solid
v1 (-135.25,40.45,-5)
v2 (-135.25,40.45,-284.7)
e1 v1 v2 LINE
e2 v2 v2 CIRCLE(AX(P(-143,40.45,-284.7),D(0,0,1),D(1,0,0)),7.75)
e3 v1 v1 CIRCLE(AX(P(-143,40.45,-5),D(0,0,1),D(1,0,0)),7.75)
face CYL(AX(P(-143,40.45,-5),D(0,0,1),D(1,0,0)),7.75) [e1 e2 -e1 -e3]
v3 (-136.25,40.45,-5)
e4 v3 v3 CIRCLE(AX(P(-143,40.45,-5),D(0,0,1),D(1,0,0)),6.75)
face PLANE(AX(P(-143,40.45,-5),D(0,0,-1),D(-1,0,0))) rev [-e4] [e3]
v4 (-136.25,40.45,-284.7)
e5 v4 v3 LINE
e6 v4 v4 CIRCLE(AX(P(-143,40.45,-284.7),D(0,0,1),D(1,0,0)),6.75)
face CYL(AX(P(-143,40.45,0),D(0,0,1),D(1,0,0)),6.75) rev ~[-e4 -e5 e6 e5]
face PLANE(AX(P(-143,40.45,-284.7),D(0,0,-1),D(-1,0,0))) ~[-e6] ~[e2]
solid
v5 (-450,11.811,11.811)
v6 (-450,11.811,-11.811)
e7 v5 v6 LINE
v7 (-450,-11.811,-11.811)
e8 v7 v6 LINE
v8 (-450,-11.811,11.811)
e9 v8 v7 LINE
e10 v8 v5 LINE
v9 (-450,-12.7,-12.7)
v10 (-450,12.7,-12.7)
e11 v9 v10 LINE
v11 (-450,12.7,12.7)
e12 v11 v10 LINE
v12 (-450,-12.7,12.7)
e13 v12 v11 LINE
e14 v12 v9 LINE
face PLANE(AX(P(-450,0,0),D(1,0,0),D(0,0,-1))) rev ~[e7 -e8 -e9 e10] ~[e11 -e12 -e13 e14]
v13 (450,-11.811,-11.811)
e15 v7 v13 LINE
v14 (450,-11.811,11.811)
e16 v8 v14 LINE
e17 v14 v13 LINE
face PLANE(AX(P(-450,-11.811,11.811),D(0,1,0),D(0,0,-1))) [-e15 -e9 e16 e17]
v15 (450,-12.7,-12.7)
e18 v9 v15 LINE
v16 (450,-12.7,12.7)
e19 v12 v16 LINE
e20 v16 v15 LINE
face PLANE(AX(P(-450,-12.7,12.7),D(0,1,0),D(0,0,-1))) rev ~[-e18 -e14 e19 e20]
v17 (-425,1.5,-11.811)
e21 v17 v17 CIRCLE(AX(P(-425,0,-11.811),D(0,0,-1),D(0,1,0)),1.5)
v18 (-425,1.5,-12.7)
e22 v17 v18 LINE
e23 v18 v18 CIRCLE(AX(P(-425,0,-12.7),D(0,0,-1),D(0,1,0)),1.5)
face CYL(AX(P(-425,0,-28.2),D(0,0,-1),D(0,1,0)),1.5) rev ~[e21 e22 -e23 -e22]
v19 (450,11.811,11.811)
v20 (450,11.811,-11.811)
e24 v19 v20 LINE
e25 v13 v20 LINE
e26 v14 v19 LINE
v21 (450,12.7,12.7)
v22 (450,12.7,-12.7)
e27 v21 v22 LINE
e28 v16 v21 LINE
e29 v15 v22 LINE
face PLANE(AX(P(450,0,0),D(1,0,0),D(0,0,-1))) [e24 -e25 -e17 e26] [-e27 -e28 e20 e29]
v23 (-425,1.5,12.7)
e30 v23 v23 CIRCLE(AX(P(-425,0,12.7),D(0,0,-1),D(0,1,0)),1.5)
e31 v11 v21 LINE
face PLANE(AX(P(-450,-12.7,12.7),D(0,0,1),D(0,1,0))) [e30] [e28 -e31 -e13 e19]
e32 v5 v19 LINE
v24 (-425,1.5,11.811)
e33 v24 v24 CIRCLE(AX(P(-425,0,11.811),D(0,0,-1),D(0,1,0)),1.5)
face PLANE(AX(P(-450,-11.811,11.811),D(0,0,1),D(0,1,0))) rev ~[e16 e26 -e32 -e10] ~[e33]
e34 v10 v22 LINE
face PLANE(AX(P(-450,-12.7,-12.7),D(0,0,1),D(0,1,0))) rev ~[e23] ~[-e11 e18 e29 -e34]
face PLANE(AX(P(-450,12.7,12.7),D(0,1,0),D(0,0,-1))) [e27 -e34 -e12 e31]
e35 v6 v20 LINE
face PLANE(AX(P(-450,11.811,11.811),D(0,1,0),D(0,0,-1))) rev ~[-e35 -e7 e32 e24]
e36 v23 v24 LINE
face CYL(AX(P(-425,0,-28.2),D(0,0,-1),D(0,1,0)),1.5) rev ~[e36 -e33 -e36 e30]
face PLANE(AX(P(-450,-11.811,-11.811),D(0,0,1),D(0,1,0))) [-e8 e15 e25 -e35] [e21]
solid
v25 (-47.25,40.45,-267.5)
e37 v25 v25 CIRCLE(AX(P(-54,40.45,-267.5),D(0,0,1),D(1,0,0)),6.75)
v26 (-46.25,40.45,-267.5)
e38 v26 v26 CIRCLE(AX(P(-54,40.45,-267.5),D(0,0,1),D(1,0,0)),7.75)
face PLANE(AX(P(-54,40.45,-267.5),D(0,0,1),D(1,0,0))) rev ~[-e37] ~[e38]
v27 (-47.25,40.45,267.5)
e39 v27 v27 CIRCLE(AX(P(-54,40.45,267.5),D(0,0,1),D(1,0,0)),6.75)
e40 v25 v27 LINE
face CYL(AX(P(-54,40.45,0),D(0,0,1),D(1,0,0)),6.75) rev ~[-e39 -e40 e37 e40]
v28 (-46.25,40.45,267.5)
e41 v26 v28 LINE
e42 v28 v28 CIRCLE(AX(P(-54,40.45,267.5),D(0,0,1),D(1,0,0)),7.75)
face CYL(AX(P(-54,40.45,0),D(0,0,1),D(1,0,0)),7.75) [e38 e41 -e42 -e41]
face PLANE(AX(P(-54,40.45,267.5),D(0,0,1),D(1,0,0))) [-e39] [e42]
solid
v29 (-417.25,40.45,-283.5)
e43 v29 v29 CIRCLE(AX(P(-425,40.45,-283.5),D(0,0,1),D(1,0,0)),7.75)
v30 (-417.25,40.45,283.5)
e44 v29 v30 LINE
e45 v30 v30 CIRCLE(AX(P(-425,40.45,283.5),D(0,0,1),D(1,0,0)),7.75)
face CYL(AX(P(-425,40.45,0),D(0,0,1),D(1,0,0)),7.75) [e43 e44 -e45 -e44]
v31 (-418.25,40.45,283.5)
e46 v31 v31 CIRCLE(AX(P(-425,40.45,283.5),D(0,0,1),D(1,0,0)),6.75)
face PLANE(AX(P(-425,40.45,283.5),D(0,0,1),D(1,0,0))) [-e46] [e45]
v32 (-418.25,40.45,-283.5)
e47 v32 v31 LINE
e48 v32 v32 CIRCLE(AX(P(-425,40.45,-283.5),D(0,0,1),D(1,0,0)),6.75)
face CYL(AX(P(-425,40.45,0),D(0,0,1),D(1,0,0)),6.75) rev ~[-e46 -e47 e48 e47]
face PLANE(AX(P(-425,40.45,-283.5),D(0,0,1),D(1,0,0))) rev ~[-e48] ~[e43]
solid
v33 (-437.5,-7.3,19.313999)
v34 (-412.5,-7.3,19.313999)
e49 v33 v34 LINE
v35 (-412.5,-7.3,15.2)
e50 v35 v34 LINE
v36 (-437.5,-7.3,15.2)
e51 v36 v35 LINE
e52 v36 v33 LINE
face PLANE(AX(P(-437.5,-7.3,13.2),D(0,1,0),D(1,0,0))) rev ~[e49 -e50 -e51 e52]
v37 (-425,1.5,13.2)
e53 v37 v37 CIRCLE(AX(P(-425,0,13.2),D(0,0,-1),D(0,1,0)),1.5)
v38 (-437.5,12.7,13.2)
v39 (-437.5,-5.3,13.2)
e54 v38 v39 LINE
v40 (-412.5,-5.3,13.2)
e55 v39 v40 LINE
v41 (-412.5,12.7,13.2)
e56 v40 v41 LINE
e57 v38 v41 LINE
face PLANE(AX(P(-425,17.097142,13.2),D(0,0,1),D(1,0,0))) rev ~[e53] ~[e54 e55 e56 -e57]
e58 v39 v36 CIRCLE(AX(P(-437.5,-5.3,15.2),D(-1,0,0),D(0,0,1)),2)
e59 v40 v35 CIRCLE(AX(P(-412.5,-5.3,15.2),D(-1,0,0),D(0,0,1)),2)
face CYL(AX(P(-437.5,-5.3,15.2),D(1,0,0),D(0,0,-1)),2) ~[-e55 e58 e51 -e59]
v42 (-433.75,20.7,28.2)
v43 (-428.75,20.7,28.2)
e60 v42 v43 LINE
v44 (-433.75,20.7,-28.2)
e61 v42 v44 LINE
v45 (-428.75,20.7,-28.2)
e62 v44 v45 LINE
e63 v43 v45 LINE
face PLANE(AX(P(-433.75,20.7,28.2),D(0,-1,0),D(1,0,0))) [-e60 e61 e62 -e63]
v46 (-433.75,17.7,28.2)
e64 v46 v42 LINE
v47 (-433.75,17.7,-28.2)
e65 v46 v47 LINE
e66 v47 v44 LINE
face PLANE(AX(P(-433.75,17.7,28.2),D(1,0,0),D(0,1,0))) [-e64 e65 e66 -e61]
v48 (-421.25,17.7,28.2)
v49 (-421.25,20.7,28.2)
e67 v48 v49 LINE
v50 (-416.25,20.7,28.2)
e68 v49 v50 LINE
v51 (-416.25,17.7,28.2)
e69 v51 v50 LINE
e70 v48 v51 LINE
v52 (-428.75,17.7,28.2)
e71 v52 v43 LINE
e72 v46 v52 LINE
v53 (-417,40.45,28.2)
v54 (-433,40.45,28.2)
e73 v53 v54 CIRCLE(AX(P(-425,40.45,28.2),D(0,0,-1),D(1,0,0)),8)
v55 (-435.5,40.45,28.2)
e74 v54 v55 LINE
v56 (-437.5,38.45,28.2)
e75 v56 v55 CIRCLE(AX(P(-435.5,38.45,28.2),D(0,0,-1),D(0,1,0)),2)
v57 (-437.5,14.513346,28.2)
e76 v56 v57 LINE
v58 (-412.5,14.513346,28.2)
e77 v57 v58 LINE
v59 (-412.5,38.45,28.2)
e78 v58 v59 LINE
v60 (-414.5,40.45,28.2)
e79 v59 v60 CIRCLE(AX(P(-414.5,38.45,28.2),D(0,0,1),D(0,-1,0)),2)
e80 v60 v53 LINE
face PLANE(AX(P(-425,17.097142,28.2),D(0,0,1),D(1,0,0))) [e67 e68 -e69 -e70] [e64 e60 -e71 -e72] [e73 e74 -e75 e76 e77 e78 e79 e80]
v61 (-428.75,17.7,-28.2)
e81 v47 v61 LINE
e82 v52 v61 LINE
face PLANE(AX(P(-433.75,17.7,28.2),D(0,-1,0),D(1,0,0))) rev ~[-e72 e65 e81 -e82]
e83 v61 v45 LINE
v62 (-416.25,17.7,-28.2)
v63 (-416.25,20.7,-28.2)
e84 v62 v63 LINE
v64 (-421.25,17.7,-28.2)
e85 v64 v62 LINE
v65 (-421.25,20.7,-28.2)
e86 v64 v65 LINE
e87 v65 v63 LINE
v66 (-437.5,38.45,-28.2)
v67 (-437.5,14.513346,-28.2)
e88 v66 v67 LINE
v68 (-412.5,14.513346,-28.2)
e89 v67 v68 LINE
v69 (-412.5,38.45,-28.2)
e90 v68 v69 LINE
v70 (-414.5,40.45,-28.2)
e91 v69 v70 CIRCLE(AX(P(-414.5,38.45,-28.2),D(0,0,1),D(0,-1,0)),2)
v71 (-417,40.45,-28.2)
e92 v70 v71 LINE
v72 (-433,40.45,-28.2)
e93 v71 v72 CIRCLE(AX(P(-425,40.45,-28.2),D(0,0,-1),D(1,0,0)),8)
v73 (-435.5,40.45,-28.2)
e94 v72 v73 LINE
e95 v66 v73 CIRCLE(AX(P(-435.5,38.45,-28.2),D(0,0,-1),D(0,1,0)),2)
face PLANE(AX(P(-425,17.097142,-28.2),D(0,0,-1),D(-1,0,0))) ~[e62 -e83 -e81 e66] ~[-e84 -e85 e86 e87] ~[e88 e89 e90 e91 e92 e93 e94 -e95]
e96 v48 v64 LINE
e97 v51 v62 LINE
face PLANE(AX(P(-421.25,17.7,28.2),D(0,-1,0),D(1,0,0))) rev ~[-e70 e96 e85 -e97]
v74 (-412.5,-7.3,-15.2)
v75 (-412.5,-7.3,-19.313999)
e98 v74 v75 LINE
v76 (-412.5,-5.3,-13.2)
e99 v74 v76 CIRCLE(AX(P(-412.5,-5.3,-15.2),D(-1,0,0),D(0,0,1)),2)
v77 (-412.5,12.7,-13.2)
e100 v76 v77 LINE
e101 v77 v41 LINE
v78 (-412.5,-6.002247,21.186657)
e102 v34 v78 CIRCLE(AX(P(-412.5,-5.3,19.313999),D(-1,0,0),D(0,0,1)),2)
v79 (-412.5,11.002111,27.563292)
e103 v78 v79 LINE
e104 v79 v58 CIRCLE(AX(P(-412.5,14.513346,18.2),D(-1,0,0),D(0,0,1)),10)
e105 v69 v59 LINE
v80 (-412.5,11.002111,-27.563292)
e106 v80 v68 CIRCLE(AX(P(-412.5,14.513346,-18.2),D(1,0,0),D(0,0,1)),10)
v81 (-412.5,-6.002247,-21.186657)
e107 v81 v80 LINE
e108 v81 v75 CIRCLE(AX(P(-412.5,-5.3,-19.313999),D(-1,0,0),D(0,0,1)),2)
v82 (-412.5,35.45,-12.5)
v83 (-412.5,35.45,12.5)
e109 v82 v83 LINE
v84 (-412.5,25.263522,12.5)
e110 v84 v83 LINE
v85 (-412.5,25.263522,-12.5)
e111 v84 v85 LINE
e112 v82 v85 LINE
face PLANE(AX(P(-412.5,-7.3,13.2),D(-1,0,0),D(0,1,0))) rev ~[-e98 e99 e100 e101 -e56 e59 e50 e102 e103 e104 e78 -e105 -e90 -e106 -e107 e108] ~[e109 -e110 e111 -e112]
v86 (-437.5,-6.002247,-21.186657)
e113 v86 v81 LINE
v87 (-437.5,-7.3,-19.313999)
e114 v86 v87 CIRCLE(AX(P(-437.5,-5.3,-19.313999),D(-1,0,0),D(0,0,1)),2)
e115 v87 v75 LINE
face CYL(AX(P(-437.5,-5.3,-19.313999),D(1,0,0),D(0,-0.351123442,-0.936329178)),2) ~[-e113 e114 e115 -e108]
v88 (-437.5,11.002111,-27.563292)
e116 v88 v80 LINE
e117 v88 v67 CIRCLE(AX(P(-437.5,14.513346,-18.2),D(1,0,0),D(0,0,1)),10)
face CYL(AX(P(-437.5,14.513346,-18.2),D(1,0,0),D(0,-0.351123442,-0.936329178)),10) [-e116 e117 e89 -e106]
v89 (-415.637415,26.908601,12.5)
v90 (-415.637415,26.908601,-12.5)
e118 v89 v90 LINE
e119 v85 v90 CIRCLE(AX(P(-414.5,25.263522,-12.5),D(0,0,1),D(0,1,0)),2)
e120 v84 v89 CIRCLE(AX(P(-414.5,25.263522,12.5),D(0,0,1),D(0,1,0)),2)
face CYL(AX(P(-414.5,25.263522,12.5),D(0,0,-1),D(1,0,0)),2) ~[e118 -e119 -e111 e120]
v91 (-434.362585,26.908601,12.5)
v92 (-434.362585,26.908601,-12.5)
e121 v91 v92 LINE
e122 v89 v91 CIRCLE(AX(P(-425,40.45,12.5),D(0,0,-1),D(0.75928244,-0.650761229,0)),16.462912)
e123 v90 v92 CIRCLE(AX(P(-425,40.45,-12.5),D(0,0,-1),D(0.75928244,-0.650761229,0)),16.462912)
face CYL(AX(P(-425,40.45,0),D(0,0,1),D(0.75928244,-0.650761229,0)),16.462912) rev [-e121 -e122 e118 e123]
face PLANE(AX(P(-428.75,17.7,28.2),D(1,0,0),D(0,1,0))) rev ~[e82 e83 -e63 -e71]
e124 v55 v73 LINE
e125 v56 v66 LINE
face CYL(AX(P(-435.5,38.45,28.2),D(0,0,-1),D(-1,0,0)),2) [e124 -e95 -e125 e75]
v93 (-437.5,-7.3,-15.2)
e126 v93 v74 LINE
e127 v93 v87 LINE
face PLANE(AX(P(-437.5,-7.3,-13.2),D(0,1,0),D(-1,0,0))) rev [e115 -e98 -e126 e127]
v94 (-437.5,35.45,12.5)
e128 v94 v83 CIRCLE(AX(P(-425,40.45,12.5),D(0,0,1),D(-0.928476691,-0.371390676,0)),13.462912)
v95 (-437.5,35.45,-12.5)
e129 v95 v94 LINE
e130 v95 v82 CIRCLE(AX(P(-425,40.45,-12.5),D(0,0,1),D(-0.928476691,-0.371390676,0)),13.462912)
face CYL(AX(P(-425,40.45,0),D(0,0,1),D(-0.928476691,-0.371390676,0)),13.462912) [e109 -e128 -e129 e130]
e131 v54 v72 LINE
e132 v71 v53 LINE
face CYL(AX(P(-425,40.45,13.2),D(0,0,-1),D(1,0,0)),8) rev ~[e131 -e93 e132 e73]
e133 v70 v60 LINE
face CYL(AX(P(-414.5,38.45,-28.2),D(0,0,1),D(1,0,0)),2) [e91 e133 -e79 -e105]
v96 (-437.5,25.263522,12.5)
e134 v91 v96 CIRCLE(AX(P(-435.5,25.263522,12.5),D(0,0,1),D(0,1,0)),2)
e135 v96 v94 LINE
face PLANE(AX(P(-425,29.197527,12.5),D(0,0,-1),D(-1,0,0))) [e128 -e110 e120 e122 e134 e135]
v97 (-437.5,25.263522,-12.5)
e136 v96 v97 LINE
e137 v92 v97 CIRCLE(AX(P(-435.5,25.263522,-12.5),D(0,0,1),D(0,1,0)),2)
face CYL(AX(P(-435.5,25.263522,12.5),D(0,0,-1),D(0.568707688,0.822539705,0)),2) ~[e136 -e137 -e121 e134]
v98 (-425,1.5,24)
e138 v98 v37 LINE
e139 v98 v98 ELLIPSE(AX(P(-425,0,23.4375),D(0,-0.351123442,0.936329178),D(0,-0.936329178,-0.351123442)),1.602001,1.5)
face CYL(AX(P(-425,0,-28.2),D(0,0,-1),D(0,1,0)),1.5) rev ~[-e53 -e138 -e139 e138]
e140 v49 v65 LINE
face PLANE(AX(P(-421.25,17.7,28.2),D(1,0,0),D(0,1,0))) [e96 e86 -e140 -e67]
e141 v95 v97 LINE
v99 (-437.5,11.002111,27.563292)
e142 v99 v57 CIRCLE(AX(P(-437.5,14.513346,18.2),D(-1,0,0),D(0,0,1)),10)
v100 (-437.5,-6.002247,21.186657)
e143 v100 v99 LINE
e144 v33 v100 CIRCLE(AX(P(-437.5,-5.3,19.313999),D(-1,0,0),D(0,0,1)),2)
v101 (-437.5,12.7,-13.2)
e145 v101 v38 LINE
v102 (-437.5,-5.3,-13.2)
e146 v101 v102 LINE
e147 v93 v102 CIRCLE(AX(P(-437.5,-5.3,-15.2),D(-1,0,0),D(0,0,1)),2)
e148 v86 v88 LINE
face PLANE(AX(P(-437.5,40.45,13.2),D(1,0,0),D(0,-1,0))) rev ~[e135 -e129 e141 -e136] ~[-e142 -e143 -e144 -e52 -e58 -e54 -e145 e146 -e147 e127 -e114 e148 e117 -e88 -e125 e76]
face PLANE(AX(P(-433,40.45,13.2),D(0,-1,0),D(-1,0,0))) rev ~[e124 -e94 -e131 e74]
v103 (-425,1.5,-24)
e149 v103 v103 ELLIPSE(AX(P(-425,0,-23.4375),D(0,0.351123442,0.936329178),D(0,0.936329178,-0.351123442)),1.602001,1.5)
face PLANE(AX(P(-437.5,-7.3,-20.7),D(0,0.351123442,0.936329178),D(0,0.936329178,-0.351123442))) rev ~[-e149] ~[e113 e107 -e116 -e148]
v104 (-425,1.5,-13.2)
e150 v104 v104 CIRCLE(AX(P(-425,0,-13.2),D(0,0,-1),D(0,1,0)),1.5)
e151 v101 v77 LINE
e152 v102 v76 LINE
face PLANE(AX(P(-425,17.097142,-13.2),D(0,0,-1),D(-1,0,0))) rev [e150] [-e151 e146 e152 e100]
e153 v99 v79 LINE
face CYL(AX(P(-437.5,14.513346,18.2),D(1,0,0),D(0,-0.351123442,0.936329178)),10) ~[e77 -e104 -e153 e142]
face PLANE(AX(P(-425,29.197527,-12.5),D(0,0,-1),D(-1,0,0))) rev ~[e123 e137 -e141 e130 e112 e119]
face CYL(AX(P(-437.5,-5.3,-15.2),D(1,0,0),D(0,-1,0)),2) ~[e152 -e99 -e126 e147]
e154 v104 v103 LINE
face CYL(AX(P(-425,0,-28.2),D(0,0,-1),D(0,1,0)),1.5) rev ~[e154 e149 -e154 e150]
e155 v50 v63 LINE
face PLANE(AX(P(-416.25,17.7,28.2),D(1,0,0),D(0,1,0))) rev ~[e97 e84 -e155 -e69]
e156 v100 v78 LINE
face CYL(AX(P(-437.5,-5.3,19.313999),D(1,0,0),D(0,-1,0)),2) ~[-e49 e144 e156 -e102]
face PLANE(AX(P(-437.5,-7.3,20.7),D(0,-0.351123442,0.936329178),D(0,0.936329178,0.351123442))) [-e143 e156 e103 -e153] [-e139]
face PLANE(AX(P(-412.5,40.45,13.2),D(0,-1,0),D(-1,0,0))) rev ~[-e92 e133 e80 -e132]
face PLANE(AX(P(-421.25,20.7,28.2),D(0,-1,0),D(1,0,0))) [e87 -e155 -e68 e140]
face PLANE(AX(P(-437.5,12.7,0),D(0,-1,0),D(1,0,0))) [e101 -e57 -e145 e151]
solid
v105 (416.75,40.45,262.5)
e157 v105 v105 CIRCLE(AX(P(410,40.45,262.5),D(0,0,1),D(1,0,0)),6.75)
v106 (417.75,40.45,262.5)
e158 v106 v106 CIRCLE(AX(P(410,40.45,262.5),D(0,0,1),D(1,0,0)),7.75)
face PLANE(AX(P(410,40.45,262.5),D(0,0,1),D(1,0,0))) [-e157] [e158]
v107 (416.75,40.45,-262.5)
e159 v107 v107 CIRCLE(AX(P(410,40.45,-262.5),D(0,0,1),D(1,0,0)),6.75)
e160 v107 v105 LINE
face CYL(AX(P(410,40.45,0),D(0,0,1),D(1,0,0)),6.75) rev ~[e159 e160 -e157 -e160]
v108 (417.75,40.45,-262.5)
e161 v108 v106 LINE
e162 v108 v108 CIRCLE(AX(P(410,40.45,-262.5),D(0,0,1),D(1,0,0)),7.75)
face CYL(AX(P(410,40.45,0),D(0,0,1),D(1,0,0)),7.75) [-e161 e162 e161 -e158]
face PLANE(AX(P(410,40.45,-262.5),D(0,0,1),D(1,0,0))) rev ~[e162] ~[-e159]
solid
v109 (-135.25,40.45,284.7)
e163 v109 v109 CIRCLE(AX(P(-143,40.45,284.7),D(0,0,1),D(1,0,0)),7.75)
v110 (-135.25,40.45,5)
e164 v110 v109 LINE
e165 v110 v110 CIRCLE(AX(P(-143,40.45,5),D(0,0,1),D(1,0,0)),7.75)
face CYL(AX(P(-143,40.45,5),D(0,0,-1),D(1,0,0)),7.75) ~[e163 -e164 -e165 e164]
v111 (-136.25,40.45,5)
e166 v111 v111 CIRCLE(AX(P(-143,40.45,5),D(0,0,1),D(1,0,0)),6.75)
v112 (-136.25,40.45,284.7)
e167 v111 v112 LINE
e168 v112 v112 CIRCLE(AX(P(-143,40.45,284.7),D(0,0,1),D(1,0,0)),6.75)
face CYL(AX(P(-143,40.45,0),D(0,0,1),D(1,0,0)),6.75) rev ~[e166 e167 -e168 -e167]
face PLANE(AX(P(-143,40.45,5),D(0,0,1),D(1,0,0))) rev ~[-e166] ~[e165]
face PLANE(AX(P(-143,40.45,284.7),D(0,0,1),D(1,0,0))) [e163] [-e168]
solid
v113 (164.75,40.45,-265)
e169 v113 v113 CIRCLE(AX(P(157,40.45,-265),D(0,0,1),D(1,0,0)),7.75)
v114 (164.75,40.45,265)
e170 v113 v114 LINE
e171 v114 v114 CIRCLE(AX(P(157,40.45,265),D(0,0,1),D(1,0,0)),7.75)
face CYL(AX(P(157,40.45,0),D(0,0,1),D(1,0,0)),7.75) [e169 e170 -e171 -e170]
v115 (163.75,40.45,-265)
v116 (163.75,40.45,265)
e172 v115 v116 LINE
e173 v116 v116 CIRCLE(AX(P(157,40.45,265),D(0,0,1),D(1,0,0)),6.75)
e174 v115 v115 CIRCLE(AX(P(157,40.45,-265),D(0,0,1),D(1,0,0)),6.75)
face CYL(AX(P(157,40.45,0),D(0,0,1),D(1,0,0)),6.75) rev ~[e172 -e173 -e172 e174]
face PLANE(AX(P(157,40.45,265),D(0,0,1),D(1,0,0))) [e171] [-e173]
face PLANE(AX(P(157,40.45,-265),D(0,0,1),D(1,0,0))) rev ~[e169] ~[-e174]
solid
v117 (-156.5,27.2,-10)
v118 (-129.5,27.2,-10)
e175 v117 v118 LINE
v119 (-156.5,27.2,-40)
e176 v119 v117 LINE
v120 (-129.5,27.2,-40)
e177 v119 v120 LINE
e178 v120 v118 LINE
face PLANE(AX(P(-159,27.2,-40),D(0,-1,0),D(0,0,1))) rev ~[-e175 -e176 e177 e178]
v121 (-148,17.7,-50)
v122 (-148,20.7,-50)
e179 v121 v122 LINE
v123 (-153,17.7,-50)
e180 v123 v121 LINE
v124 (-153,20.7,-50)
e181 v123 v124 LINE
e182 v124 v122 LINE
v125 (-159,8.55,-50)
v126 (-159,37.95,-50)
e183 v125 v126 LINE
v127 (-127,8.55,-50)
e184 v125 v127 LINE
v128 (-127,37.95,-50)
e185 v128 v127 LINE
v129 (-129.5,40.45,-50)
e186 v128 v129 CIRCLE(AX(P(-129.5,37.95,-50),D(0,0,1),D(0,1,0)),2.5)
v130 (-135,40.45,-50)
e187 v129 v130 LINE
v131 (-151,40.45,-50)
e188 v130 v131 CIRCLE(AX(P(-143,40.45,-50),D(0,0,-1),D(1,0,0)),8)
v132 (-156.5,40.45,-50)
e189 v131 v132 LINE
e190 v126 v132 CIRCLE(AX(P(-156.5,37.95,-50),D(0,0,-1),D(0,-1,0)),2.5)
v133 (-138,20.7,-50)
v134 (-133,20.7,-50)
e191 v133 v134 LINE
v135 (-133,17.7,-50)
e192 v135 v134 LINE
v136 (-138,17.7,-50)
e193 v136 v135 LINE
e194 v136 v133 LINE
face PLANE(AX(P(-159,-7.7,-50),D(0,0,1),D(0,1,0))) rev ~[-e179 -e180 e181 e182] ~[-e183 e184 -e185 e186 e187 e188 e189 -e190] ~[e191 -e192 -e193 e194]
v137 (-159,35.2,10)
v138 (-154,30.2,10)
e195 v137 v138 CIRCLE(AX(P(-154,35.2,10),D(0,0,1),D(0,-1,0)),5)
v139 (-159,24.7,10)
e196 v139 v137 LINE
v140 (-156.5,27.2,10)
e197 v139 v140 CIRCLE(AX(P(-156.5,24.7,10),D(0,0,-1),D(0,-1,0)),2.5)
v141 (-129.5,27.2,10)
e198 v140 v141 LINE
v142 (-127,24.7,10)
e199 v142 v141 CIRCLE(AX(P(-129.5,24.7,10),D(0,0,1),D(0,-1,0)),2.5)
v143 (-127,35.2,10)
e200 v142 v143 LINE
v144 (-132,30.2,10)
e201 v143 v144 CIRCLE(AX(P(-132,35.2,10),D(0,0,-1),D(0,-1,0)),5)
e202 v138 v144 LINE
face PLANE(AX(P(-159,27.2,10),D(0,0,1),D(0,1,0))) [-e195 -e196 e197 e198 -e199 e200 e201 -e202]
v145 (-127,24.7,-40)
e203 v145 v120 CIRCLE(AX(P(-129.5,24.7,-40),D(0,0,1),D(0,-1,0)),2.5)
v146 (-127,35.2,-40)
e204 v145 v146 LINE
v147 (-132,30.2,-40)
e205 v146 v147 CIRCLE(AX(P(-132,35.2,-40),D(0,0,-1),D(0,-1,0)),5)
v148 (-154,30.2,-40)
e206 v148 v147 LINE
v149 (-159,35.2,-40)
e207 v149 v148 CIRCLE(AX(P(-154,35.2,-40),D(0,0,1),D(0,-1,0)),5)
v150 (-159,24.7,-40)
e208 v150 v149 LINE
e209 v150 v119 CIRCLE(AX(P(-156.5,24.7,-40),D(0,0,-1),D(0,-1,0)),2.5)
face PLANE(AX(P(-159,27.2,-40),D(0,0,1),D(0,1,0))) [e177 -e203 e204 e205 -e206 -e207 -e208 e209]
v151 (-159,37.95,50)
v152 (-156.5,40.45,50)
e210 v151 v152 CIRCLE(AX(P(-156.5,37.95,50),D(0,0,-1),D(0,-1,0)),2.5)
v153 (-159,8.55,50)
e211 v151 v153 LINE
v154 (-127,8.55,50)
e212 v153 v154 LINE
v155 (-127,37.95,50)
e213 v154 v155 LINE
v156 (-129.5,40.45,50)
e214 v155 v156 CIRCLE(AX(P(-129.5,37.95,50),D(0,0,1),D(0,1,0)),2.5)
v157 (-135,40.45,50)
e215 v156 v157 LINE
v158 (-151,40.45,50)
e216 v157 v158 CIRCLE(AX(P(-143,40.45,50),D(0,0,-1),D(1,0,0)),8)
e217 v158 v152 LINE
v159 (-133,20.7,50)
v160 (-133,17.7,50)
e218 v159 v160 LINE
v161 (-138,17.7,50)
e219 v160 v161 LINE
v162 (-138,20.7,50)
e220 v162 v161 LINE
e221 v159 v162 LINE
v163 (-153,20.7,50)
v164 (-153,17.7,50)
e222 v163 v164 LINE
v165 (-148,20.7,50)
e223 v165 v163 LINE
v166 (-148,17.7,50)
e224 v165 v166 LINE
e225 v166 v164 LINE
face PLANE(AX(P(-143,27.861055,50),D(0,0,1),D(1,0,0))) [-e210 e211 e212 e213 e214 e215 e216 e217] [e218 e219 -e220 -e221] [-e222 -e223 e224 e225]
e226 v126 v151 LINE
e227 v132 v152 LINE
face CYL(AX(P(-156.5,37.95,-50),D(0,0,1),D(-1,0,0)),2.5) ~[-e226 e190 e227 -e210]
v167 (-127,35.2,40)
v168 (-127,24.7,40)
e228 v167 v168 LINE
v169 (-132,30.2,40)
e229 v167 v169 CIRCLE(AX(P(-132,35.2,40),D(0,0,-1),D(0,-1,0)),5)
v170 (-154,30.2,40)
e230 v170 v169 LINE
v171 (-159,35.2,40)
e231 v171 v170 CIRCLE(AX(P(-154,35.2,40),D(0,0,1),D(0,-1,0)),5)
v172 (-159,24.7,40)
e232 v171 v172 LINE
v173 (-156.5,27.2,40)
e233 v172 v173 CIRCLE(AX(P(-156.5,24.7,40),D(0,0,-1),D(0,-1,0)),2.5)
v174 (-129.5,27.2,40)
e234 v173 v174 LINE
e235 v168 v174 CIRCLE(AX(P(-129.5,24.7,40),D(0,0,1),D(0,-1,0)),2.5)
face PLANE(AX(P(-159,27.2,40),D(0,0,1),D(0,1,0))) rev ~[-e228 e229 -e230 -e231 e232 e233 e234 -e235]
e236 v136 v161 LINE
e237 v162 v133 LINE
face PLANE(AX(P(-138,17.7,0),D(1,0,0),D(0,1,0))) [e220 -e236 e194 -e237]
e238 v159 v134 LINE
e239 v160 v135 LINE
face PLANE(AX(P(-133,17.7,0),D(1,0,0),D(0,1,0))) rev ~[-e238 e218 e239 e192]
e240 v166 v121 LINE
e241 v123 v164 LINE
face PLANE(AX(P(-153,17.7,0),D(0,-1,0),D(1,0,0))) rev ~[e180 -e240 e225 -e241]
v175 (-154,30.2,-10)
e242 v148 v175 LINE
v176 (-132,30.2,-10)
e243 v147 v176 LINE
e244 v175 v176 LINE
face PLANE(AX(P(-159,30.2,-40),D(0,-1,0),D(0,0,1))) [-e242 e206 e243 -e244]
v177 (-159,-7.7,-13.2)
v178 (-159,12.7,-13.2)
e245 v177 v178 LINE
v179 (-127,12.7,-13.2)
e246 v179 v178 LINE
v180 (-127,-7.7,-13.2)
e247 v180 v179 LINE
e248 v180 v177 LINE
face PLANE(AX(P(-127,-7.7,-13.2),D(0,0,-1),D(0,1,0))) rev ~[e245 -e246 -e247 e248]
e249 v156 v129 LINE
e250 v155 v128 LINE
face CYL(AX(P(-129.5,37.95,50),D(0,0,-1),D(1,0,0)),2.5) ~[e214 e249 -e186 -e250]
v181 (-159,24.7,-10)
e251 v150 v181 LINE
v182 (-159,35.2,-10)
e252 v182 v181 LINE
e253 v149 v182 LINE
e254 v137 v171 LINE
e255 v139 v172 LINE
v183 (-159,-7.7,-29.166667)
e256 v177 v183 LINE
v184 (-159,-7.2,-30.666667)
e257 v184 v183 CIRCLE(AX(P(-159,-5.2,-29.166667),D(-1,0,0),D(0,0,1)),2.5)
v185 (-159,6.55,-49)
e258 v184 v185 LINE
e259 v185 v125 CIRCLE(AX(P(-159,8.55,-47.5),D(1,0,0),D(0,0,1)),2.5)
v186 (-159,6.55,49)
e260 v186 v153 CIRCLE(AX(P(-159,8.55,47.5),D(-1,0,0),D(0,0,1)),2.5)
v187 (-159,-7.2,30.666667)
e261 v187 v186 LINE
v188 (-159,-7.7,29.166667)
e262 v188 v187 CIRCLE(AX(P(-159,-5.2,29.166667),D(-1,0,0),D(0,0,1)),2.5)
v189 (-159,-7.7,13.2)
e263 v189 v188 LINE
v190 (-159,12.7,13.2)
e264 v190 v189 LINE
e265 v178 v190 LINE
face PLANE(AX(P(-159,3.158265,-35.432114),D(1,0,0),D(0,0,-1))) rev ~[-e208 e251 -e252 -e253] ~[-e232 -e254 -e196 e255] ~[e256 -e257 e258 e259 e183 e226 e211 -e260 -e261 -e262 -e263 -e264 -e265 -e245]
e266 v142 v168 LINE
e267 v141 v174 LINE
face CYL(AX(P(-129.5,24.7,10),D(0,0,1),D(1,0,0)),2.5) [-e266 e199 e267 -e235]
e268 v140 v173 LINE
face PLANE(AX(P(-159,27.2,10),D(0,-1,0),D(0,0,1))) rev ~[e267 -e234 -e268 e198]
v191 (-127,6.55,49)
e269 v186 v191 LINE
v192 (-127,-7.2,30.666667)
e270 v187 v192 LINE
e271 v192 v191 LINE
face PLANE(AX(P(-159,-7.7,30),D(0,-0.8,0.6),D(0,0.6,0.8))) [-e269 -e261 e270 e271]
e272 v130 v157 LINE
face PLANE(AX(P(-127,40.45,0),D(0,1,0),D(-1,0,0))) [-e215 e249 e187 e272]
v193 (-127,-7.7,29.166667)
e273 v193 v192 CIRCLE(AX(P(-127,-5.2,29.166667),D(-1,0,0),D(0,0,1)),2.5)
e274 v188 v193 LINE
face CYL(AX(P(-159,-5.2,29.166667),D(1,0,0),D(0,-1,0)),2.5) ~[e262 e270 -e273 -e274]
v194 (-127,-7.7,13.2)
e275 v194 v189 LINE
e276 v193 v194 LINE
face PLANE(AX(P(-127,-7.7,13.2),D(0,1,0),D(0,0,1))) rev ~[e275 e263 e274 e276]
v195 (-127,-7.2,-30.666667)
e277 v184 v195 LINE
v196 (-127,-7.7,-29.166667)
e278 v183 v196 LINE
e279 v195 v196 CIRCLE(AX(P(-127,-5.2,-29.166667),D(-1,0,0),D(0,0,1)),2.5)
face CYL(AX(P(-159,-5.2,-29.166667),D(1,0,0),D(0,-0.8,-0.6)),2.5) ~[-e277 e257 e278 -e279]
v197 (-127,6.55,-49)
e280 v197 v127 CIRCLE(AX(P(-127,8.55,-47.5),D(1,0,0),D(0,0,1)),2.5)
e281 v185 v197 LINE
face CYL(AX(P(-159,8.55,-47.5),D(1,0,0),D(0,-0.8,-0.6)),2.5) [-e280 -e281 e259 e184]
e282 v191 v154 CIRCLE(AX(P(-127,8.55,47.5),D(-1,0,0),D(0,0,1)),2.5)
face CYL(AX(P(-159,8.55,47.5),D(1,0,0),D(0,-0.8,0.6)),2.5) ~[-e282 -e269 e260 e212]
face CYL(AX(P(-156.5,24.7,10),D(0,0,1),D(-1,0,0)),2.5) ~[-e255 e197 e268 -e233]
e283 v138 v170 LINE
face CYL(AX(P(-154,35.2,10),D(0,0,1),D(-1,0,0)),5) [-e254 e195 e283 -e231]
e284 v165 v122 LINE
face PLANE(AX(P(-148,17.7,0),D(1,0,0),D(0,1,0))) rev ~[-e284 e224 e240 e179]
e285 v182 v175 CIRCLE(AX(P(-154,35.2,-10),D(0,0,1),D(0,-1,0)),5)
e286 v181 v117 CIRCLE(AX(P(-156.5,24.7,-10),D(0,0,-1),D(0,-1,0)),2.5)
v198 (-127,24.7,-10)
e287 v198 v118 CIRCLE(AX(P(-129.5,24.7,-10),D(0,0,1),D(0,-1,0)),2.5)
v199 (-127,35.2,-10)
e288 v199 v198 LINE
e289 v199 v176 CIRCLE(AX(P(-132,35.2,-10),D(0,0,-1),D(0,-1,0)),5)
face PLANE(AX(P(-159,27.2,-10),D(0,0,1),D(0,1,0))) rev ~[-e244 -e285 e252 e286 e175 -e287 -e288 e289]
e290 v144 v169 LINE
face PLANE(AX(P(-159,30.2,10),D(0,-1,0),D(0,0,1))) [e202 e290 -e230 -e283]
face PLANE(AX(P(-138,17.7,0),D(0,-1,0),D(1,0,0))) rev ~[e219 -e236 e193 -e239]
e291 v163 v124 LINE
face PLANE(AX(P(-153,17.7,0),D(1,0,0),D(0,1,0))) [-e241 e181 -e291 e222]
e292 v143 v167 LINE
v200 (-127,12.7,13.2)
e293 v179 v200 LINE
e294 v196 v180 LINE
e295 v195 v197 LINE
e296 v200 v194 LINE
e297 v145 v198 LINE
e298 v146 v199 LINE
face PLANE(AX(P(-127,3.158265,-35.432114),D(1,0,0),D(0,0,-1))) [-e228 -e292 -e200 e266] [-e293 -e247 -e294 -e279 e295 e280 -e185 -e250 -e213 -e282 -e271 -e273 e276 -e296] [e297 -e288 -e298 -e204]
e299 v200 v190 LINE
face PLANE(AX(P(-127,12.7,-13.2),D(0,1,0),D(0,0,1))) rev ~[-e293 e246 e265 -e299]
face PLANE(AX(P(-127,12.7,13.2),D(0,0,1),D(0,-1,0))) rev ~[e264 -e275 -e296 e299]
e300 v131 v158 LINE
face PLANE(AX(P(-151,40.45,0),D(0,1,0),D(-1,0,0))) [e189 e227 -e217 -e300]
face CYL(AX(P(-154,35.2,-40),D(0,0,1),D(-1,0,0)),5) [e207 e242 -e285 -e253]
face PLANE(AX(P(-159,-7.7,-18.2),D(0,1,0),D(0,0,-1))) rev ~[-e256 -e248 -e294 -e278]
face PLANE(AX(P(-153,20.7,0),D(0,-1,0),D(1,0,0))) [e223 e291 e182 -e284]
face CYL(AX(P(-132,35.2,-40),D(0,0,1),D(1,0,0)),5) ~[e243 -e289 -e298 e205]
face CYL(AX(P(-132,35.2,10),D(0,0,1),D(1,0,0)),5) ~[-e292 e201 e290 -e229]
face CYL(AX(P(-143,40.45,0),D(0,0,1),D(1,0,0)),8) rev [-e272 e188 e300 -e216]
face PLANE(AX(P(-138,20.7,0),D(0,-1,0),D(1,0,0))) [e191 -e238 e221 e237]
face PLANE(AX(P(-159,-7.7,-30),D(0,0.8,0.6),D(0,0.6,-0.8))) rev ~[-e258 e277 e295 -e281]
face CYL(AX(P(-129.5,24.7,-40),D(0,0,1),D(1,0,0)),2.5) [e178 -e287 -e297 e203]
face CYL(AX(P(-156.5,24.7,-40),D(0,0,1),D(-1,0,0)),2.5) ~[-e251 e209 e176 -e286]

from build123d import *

# Parameters (mm, degrees)
SKETCH1_W                                      = 25.4
SKETCH1_H                                      = 25.4
SKETCH1_W_2                                    = 23.622
SKETCH1_H_2                                    = 23.622
AL_TUBE_SQUARE_AL_TUBE_1_SQR_X_0_035_WAL_DEPTH = 900
ELEMENT_GEOMETRY_R                             = 7.75
REFLECTOR_GEOMETRY_DEPTH                       = 283.5
ELEMENT_GEOMETRY_4_R                           = 7.75
DIRECTOR_GEOMETRY_1_DEPTH                      = 267.5
ELEMENT_GEOMETRY_5_R                           = 7.75
DIRECTOR_GEOMETRY_2_DEPTH                      = 265
ELEMENT_GEOMETRY_6_R                           = 7.75
DIRECTOR_GEOMETRY_3_DEPTH                      = 262.5
DIPOLE_A_START                                 = 5
ELEMENT_GEOMETRY_7_R                           = 7.75
DIPOLE_A_DEPTH                                 = 279.7
ELEMENT_BASE_DEPTH                             = 13.2
ELEMENT_BASE_DEPTH_BACK                        = 13.2
ELEMENT_BASE_SIDE_DEPTH                        = 15
CUT_EXTRUDE3_DEPTH                             = 12.5
SKETCH9_R                                      = 1.5
CUT_EXTRUDE4_DEPTH                             = 551.208733119
CUT_EXTRUDE4_DEPTH_BACK                        = 551.208733119
SKETCH10_W                                     = 5
SKETCH10_H                                     = 3
CUT_EXTRUDE5_DEPTH                             = 56.4
CUT_EXTRUDE6_DEPTH                             = 25
FILLET3_R                                      = 10
FILLET4_R                                      = 2
DIRECTOR_BASE_R                                = 2
BOSS_EXTRUDE8_DEPTH                            = 50
BOSS_EXTRUDE10_START                           = -127
BOSS_EXTRUDE10_DEPTH                           = 32
BOSS_EXTRUDE11_DEPTH                           = 32
BOSS_EXTRUDE11_2_DEPTH                         = 32
SKETCH18_W                                     = 30
SKETCH18_H                                     = 3
CUT_EXTRUDE7_DEPTH                             = 32
FILLET6_R                                      = 5
FILLET7_R                                      = 2.5
SKETCH21_W                                     = 5
SKETCH21_H                                     = 3
CUT_EXTRUDE8_DEPTH                             = 535.674976037
CUT_EXTRUDE8_DEPTH_BACK                        = 535.674976037
CUT_EXTRUDE10_DEPTH                            = 32
DIPOLE_BASE_R                                  = 2.5
SKETCH24_R                                     = 6.75
CUT_EXTRUDE11_DEPTH                            = 535.674976037
CUT_EXTRUDE11_DEPTH_BACK                       = 535.674976037


with BuildPart() as part:
    # Sketch1 → Al tube square AL TUBE 1 SQR X 0.035 WALL(2) (new body)
    with BuildSketch(Plane(origin=(-450, 0, 0), x_dir=(0, 0, -1), z_dir=(1, 0, 0))):
        Rectangle(SKETCH1_W, SKETCH1_H)
        Rectangle(SKETCH1_W_2, SKETCH1_H_2, mode=Mode.SUBTRACT)
    extrude(amount=AL_TUBE_SQUARE_AL_TUBE_1_SQR_X_0_035_WAL_DEPTH)


with BuildPart() as body_2:
    # Element Geometry → Reflector Geometry (new, symmetric)
    with BuildSketch(Plane.XY):
        with Locations((-425, 40.45)):
            Circle(ELEMENT_GEOMETRY_R)
    extrude(amount=REFLECTOR_GEOMETRY_DEPTH, both=True)


with BuildPart() as body_3:
    # Element Geometry<4> → Director Geometry #1 (new, symmetric)
    with BuildSketch(Plane.XY):
        with Locations((-54, 40.45)):
            Circle(ELEMENT_GEOMETRY_4_R)
    extrude(amount=DIRECTOR_GEOMETRY_1_DEPTH, both=True)


with BuildPart() as body_4:
    # Element Geometry<5> → Director Geometry #2 (new, symmetric)
    with BuildSketch(Plane.XY):
        with Locations((157, 40.45)):
            Circle(ELEMENT_GEOMETRY_5_R)
    extrude(amount=DIRECTOR_GEOMETRY_2_DEPTH, both=True)


with BuildPart() as body_5:
    # Element Geometry<6> → Director Geometry #3 (new, symmetric)
    with BuildSketch(Plane.XY):
        with Locations((410, 40.45)):
            Circle(ELEMENT_GEOMETRY_6_R)
    extrude(amount=DIRECTOR_GEOMETRY_3_DEPTH, both=True)


with BuildPart() as body_6:
    # Element Geometry<7> → Dipole-A (new body)
    with BuildSketch(Plane.XY.offset(DIPOLE_A_START)):
        with Locations((-143, 40.45)):
            Circle(ELEMENT_GEOMETRY_7_R)
    extrude(amount=DIPOLE_A_DEPTH)


with BuildPart() as body_7:
    # Dipole-B: mirrored copy
    add(body_6.part.mirror(Plane.XY))


with BuildPart() as body_8:
    # Sketch3 → Element Base (new, two sides)
    with BuildSketch(Plane.XY) as element_base_sk:
        with BuildLine():
            Line((-433, 40.45), (-437.5, 40.45))
            Line((-437.5, 40.45), (-437.5, 12.7))
            Line((-437.5, 12.7), (-412.5, 12.7))
            Line((-412.5, 12.7), (-412.5, 40.45))
            Line((-412.5, 40.45), (-417, 40.45))
            ThreePointArc((-417, 40.45), (-425, 32.45), (-433, 40.45))
        make_face()
    extrude(amount=ELEMENT_BASE_DEPTH)
    extrude(element_base_sk.sketch, amount=-ELEMENT_BASE_DEPTH_BACK)


with BuildPart() as body_9:
    # Sketch4 → Element Base Side (new body)
    with BuildSketch(Plane.XY.offset(13.2)):
        with BuildLine():
            Line((-437.5, 12.7), (-437.5, -7.3))
            Line((-437.5, -7.3), (-412.5, -7.3))
            Line((-412.5, -7.3), (-412.5, 12.7))
            Line((-412.5, 12.7), (-412.5, 40.45))
            Line((-412.5, 40.45), (-417, 40.45))
            ThreePointArc((-417, 40.45), (-425, 32.45), (-433, 40.45))
            Line((-433, 40.45), (-437.5, 40.45))
            Line((-437.5, 40.45), (-437.5, 12.7))
        make_face()
    extrude(amount=ELEMENT_BASE_SIDE_DEPTH)


with BuildPart() as body_10:
    # Mirror3: mirrored copy
    add(body_9.part.mirror(Plane.XY))

    # Combine1: union body 8, body 9
    add(body_8.part)
    add(body_9.part)

    # Sketch8 → Cut-Extrude3 (cut, symmetric)
    with BuildSketch(Plane.XY):
        with BuildLine():
            Line((-412.5, 35.45), (-412.5, 29.736575146))
            ThreePointArc((-412.5, 29.736575146), (-425, 23.987087982), (-437.5, 29.736575146))
            Line((-437.5, 29.736575146), (-437.5, 35.45))
            ThreePointArc((-437.5, 35.45), (-425, 26.987087982), (-412.5, 35.45))
        make_face()
    extrude(amount=CUT_EXTRUDE3_DEPTH, both=True, mode=Mode.SUBTRACT)


with BuildPart() as cut_extrude4_tool:
    # Sketch9 → Cut-Extrude4 (new, two sides)
    with BuildSketch(Plane(origin=(0, 0, -28.2), x_dir=(-1, 0, 0), z_dir=(0, 0, -1))) as cut_extrude4_sk:
        with Locations(Location((425, 0, 0), (0, 0, 90))):
            Circle(SKETCH9_R)
    extrude(amount=CUT_EXTRUDE4_DEPTH)
    extrude(cut_extrude4_sk.sketch, amount=-CUT_EXTRUDE4_DEPTH_BACK)


with BuildPart() as part_1:
    add(part.part)

    # Cut-Extrude4: cut by cut_extrude4_tool
    add(cut_extrude4_tool.part, mode=Mode.SUBTRACT)


with BuildPart() as body_10_1:
    add(body_10.part)

    # Cut-Extrude4: cut by cut_extrude4_tool
    add(cut_extrude4_tool.part, mode=Mode.SUBTRACT)

    # Sketch10 → Cut-Extrude5 (cut)
    with BuildSketch(Plane.XY.offset(28.2)):
        with Locations((-418.75, 19.2)):
            Rectangle(SKETCH10_W, SKETCH10_H)
        with Locations((-431.25, 19.2)):
            Rectangle(SKETCH10_W, SKETCH10_H)
    extrude(amount=-CUT_EXTRUDE5_DEPTH, mode=Mode.SUBTRACT)

    # Sketch11 → Cut-Extrude6 (cut)
    with BuildSketch(Plane.ZY.offset(437.5)):
        Polygon((-20.7, -7.3), (-28.2, 12.7), (-28.2, -7.3), align=None)
        Polygon((28.2, -7.3), (20.7, -7.3), (28.2, 12.7), align=None)
    extrude(amount=-CUT_EXTRUDE6_DEPTH, mode=Mode.SUBTRACT)

    # Fillet3
    fillet3_edges = [body_10_1.edges().sort_by_distance(p)[0] for p in [
        (-425, 12.7, -28.2),
        (-425, 12.7, 28.2),
    ]]
    fillet(fillet3_edges, radius=FILLET3_R)

    # Fillet4
    fillet4_edges = [body_10_1.edges().sort_by_distance(p)[0] for p in [
        (-425, -7.3, -20.7),
        (-425, -7.3, 20.7),
        (-425, -7.3, 13.2),
        (-425, -7.3, -13.2),
    ]]
    fillet(fillet4_edges, radius=FILLET4_R)

    # Director Base
    director_base_edges = [body_10_1.edges().sort_by_distance(p)[0] for p in [
        (-412.5, 40.45, 0),
        (-437.5, 40.45, 0),
        (-437.5, 29.736575146, 0),
        (-412.5, 29.736575146, 0),
    ]]
    fillet(director_base_edges, radius=DIRECTOR_BASE_R)


with BuildPart() as body_9_2:
    # Sketch12 → Boss-Extrude8 (new, symmetric)
    with BuildSketch(Plane.XY):
        with BuildLine():
            Line((-127, 40.45), (-135, 40.45))
            ThreePointArc((-135, 40.45), (-143, 32.45), (-151, 40.45))
            Line((-151, 40.45), (-159, 40.45))
            Line((-159, 40.45), (-159, 15.45))
            Line((-159, 15.45), (-127, 15.45))
            Line((-127, 15.45), (-127, 40.45))
        make_face()
    extrude(amount=BOSS_EXTRUDE8_DEPTH, both=True)


with BuildPart() as body_10_2:
    # Sketch16 → Boss-Extrude10 (new body)
    with BuildSketch(Plane(origin=(0, 0, 0), x_dir=(0, 0, -1), z_dir=(1, 0, 0)).offset(BOSS_EXTRUDE10_START)):
        Polygon((13.2, 12.7), (-13.2, 12.7), (-13.2, -7.7), (-18.2, -7.7), (-23.2, -2.7), (-23.2, 15.45), (23.2, 15.45), (23.2, -2.7), (18.2, -7.7), (13.2, -7.7), align=None)
    extrude(amount=-BOSS_EXTRUDE10_DEPTH)


with BuildPart() as body_9_2_1:
    add(body_9_2.part)

    # Combine3: union body 10 2
    add(body_10_2.part)


with BuildPart() as body_10_3:
    # Sketch17 → Boss-Extrude11 (new body)
    with BuildSketch(Plane.ZY.offset(159)):
        Polygon((-18.2, -7.7), (-50, -7.7), (-50, 15.45), (-23.2, 15.45), (-23.2, -2.7), align=None)
    extrude(amount=-BOSS_EXTRUDE11_DEPTH)


with BuildPart() as body_11:
    # Sketch17 → Boss-Extrude11 2 (new body)
    with BuildSketch(Plane.ZY.offset(159)):
        Polygon((23.2, -2.7), (18.2, -7.7), (50, -7.7), (50, 15.45), (23.2, 15.45), align=None)
    extrude(amount=-BOSS_EXTRUDE11_2_DEPTH)

    # Combine4: union body 9 2, body 10 3
    add(body_9_2_1.part)
    add(body_10_3.part)

    # Sketch18 → Cut-Extrude7 (cut)
    with BuildSketch(Plane.ZY.offset(159)):
        with Locations((-25, 28.7)):
            Rectangle(SKETCH18_W, SKETCH18_H)
        with Locations((25, 28.7)):
            Rectangle(SKETCH18_W, SKETCH18_H)
    extrude(amount=-CUT_EXTRUDE7_DEPTH, mode=Mode.SUBTRACT)

    # Fillet6
    fillet6_edges = [body_11.edges().sort_by_distance(p)[0] for p in [
        (-127, 30.2, -25),
        (-159, 30.2, -25),
        (-127, 30.2, 25),
        (-159, 30.2, 25),
    ]]
    fillet(fillet6_edges, radius=FILLET6_R)

    # Fillet7
    fillet7_edges = [body_11.edges().sort_by_distance(p)[0] for p in [
        (-159, 40.45, 0),
        (-127, 40.45, 0),
        (-127, 27.2, -25),
        (-159, 27.2, -25),
        (-127, 27.2, 25),
        (-159, 27.2, 25),
    ]]
    fillet(fillet7_edges, radius=FILLET7_R)

    # Sketch21 → Cut-Extrude8 (cut, two sides)
    with BuildSketch(Plane.XY) as cut_extrude8_sk:
        with Locations((-150.5, 19.2)):
            Rectangle(SKETCH21_W, SKETCH21_H)
        with Locations((-135.5, 19.2)):
            Rectangle(SKETCH21_W, SKETCH21_H)
    extrude(amount=CUT_EXTRUDE8_DEPTH, mode=Mode.SUBTRACT)
    extrude(cut_extrude8_sk.sketch, amount=-CUT_EXTRUDE8_DEPTH_BACK, mode=Mode.SUBTRACT)

    # Sketch23 → Cut-Extrude10 (cut)
    with BuildSketch(Plane.ZY.offset(159)):
        Polygon((-50, 7.3), (-50, -7.7), (-30, -7.7), align=None)
        Polygon((50, -7.7), (30, -7.7), (50, 7.3), align=None)
    extrude(amount=-CUT_EXTRUDE10_DEPTH, mode=Mode.SUBTRACT)

    # Dipole Base
    dipole_base_edges = [body_11.edges().sort_by_distance(p)[0] for p in [
        (-143, 7.3, -50),
        (-143, -7.7, -30),
        (-143, 7.3, 50),
        (-143, -7.7, 30),
    ]]
    fillet(dipole_base_edges, radius=DIPOLE_BASE_R)


with BuildPart() as cut_extrude11_tool:
    # Sketch24 → Cut-Extrude11 (new, two sides)
    with BuildSketch(Plane.XY) as cut_extrude11_sk:
        with Locations((-425, 40.45)):
            Circle(SKETCH24_R)
        with Locations((410, 40.45)):
            Circle(SKETCH24_R)
        with Locations((-54, 40.45)):
            Circle(SKETCH24_R)
        with Locations((157, 40.45)):
            Circle(SKETCH24_R)
        with Locations((-143, 40.45)):
            Circle(SKETCH24_R)
    extrude(amount=CUT_EXTRUDE11_DEPTH)
    extrude(cut_extrude11_sk.sketch, amount=-CUT_EXTRUDE11_DEPTH_BACK)


with BuildPart() as body_2_1:
    add(body_2.part)

    # Cut-Extrude11: cut by cut_extrude11_tool
    add(cut_extrude11_tool.part, mode=Mode.SUBTRACT)


with BuildPart() as body_3_1:
    add(body_3.part)

    # Cut-Extrude11: cut by cut_extrude11_tool
    add(cut_extrude11_tool.part, mode=Mode.SUBTRACT)


with BuildPart() as body_4_1:
    add(body_4.part)

    # Cut-Extrude11: cut by cut_extrude11_tool
    add(cut_extrude11_tool.part, mode=Mode.SUBTRACT)


with BuildPart() as body_5_1:
    add(body_5.part)

    # Cut-Extrude11: cut by cut_extrude11_tool
    add(cut_extrude11_tool.part, mode=Mode.SUBTRACT)


with BuildPart() as body_6_1:
    add(body_6.part)

    # Cut-Extrude11: cut by cut_extrude11_tool
    add(cut_extrude11_tool.part, mode=Mode.SUBTRACT)


with BuildPart() as body_7_1:
    add(body_7.part)

    # Cut-Extrude11: cut by cut_extrude11_tool
    add(cut_extrude11_tool.part, mode=Mode.SUBTRACT)


solid = Compound([part_1.part, body_10_1.part, body_11.part, body_2_1.part, body_3_1.part, body_4_1.part, body_5_1.part, body_6_1.part, body_7_1.part])
